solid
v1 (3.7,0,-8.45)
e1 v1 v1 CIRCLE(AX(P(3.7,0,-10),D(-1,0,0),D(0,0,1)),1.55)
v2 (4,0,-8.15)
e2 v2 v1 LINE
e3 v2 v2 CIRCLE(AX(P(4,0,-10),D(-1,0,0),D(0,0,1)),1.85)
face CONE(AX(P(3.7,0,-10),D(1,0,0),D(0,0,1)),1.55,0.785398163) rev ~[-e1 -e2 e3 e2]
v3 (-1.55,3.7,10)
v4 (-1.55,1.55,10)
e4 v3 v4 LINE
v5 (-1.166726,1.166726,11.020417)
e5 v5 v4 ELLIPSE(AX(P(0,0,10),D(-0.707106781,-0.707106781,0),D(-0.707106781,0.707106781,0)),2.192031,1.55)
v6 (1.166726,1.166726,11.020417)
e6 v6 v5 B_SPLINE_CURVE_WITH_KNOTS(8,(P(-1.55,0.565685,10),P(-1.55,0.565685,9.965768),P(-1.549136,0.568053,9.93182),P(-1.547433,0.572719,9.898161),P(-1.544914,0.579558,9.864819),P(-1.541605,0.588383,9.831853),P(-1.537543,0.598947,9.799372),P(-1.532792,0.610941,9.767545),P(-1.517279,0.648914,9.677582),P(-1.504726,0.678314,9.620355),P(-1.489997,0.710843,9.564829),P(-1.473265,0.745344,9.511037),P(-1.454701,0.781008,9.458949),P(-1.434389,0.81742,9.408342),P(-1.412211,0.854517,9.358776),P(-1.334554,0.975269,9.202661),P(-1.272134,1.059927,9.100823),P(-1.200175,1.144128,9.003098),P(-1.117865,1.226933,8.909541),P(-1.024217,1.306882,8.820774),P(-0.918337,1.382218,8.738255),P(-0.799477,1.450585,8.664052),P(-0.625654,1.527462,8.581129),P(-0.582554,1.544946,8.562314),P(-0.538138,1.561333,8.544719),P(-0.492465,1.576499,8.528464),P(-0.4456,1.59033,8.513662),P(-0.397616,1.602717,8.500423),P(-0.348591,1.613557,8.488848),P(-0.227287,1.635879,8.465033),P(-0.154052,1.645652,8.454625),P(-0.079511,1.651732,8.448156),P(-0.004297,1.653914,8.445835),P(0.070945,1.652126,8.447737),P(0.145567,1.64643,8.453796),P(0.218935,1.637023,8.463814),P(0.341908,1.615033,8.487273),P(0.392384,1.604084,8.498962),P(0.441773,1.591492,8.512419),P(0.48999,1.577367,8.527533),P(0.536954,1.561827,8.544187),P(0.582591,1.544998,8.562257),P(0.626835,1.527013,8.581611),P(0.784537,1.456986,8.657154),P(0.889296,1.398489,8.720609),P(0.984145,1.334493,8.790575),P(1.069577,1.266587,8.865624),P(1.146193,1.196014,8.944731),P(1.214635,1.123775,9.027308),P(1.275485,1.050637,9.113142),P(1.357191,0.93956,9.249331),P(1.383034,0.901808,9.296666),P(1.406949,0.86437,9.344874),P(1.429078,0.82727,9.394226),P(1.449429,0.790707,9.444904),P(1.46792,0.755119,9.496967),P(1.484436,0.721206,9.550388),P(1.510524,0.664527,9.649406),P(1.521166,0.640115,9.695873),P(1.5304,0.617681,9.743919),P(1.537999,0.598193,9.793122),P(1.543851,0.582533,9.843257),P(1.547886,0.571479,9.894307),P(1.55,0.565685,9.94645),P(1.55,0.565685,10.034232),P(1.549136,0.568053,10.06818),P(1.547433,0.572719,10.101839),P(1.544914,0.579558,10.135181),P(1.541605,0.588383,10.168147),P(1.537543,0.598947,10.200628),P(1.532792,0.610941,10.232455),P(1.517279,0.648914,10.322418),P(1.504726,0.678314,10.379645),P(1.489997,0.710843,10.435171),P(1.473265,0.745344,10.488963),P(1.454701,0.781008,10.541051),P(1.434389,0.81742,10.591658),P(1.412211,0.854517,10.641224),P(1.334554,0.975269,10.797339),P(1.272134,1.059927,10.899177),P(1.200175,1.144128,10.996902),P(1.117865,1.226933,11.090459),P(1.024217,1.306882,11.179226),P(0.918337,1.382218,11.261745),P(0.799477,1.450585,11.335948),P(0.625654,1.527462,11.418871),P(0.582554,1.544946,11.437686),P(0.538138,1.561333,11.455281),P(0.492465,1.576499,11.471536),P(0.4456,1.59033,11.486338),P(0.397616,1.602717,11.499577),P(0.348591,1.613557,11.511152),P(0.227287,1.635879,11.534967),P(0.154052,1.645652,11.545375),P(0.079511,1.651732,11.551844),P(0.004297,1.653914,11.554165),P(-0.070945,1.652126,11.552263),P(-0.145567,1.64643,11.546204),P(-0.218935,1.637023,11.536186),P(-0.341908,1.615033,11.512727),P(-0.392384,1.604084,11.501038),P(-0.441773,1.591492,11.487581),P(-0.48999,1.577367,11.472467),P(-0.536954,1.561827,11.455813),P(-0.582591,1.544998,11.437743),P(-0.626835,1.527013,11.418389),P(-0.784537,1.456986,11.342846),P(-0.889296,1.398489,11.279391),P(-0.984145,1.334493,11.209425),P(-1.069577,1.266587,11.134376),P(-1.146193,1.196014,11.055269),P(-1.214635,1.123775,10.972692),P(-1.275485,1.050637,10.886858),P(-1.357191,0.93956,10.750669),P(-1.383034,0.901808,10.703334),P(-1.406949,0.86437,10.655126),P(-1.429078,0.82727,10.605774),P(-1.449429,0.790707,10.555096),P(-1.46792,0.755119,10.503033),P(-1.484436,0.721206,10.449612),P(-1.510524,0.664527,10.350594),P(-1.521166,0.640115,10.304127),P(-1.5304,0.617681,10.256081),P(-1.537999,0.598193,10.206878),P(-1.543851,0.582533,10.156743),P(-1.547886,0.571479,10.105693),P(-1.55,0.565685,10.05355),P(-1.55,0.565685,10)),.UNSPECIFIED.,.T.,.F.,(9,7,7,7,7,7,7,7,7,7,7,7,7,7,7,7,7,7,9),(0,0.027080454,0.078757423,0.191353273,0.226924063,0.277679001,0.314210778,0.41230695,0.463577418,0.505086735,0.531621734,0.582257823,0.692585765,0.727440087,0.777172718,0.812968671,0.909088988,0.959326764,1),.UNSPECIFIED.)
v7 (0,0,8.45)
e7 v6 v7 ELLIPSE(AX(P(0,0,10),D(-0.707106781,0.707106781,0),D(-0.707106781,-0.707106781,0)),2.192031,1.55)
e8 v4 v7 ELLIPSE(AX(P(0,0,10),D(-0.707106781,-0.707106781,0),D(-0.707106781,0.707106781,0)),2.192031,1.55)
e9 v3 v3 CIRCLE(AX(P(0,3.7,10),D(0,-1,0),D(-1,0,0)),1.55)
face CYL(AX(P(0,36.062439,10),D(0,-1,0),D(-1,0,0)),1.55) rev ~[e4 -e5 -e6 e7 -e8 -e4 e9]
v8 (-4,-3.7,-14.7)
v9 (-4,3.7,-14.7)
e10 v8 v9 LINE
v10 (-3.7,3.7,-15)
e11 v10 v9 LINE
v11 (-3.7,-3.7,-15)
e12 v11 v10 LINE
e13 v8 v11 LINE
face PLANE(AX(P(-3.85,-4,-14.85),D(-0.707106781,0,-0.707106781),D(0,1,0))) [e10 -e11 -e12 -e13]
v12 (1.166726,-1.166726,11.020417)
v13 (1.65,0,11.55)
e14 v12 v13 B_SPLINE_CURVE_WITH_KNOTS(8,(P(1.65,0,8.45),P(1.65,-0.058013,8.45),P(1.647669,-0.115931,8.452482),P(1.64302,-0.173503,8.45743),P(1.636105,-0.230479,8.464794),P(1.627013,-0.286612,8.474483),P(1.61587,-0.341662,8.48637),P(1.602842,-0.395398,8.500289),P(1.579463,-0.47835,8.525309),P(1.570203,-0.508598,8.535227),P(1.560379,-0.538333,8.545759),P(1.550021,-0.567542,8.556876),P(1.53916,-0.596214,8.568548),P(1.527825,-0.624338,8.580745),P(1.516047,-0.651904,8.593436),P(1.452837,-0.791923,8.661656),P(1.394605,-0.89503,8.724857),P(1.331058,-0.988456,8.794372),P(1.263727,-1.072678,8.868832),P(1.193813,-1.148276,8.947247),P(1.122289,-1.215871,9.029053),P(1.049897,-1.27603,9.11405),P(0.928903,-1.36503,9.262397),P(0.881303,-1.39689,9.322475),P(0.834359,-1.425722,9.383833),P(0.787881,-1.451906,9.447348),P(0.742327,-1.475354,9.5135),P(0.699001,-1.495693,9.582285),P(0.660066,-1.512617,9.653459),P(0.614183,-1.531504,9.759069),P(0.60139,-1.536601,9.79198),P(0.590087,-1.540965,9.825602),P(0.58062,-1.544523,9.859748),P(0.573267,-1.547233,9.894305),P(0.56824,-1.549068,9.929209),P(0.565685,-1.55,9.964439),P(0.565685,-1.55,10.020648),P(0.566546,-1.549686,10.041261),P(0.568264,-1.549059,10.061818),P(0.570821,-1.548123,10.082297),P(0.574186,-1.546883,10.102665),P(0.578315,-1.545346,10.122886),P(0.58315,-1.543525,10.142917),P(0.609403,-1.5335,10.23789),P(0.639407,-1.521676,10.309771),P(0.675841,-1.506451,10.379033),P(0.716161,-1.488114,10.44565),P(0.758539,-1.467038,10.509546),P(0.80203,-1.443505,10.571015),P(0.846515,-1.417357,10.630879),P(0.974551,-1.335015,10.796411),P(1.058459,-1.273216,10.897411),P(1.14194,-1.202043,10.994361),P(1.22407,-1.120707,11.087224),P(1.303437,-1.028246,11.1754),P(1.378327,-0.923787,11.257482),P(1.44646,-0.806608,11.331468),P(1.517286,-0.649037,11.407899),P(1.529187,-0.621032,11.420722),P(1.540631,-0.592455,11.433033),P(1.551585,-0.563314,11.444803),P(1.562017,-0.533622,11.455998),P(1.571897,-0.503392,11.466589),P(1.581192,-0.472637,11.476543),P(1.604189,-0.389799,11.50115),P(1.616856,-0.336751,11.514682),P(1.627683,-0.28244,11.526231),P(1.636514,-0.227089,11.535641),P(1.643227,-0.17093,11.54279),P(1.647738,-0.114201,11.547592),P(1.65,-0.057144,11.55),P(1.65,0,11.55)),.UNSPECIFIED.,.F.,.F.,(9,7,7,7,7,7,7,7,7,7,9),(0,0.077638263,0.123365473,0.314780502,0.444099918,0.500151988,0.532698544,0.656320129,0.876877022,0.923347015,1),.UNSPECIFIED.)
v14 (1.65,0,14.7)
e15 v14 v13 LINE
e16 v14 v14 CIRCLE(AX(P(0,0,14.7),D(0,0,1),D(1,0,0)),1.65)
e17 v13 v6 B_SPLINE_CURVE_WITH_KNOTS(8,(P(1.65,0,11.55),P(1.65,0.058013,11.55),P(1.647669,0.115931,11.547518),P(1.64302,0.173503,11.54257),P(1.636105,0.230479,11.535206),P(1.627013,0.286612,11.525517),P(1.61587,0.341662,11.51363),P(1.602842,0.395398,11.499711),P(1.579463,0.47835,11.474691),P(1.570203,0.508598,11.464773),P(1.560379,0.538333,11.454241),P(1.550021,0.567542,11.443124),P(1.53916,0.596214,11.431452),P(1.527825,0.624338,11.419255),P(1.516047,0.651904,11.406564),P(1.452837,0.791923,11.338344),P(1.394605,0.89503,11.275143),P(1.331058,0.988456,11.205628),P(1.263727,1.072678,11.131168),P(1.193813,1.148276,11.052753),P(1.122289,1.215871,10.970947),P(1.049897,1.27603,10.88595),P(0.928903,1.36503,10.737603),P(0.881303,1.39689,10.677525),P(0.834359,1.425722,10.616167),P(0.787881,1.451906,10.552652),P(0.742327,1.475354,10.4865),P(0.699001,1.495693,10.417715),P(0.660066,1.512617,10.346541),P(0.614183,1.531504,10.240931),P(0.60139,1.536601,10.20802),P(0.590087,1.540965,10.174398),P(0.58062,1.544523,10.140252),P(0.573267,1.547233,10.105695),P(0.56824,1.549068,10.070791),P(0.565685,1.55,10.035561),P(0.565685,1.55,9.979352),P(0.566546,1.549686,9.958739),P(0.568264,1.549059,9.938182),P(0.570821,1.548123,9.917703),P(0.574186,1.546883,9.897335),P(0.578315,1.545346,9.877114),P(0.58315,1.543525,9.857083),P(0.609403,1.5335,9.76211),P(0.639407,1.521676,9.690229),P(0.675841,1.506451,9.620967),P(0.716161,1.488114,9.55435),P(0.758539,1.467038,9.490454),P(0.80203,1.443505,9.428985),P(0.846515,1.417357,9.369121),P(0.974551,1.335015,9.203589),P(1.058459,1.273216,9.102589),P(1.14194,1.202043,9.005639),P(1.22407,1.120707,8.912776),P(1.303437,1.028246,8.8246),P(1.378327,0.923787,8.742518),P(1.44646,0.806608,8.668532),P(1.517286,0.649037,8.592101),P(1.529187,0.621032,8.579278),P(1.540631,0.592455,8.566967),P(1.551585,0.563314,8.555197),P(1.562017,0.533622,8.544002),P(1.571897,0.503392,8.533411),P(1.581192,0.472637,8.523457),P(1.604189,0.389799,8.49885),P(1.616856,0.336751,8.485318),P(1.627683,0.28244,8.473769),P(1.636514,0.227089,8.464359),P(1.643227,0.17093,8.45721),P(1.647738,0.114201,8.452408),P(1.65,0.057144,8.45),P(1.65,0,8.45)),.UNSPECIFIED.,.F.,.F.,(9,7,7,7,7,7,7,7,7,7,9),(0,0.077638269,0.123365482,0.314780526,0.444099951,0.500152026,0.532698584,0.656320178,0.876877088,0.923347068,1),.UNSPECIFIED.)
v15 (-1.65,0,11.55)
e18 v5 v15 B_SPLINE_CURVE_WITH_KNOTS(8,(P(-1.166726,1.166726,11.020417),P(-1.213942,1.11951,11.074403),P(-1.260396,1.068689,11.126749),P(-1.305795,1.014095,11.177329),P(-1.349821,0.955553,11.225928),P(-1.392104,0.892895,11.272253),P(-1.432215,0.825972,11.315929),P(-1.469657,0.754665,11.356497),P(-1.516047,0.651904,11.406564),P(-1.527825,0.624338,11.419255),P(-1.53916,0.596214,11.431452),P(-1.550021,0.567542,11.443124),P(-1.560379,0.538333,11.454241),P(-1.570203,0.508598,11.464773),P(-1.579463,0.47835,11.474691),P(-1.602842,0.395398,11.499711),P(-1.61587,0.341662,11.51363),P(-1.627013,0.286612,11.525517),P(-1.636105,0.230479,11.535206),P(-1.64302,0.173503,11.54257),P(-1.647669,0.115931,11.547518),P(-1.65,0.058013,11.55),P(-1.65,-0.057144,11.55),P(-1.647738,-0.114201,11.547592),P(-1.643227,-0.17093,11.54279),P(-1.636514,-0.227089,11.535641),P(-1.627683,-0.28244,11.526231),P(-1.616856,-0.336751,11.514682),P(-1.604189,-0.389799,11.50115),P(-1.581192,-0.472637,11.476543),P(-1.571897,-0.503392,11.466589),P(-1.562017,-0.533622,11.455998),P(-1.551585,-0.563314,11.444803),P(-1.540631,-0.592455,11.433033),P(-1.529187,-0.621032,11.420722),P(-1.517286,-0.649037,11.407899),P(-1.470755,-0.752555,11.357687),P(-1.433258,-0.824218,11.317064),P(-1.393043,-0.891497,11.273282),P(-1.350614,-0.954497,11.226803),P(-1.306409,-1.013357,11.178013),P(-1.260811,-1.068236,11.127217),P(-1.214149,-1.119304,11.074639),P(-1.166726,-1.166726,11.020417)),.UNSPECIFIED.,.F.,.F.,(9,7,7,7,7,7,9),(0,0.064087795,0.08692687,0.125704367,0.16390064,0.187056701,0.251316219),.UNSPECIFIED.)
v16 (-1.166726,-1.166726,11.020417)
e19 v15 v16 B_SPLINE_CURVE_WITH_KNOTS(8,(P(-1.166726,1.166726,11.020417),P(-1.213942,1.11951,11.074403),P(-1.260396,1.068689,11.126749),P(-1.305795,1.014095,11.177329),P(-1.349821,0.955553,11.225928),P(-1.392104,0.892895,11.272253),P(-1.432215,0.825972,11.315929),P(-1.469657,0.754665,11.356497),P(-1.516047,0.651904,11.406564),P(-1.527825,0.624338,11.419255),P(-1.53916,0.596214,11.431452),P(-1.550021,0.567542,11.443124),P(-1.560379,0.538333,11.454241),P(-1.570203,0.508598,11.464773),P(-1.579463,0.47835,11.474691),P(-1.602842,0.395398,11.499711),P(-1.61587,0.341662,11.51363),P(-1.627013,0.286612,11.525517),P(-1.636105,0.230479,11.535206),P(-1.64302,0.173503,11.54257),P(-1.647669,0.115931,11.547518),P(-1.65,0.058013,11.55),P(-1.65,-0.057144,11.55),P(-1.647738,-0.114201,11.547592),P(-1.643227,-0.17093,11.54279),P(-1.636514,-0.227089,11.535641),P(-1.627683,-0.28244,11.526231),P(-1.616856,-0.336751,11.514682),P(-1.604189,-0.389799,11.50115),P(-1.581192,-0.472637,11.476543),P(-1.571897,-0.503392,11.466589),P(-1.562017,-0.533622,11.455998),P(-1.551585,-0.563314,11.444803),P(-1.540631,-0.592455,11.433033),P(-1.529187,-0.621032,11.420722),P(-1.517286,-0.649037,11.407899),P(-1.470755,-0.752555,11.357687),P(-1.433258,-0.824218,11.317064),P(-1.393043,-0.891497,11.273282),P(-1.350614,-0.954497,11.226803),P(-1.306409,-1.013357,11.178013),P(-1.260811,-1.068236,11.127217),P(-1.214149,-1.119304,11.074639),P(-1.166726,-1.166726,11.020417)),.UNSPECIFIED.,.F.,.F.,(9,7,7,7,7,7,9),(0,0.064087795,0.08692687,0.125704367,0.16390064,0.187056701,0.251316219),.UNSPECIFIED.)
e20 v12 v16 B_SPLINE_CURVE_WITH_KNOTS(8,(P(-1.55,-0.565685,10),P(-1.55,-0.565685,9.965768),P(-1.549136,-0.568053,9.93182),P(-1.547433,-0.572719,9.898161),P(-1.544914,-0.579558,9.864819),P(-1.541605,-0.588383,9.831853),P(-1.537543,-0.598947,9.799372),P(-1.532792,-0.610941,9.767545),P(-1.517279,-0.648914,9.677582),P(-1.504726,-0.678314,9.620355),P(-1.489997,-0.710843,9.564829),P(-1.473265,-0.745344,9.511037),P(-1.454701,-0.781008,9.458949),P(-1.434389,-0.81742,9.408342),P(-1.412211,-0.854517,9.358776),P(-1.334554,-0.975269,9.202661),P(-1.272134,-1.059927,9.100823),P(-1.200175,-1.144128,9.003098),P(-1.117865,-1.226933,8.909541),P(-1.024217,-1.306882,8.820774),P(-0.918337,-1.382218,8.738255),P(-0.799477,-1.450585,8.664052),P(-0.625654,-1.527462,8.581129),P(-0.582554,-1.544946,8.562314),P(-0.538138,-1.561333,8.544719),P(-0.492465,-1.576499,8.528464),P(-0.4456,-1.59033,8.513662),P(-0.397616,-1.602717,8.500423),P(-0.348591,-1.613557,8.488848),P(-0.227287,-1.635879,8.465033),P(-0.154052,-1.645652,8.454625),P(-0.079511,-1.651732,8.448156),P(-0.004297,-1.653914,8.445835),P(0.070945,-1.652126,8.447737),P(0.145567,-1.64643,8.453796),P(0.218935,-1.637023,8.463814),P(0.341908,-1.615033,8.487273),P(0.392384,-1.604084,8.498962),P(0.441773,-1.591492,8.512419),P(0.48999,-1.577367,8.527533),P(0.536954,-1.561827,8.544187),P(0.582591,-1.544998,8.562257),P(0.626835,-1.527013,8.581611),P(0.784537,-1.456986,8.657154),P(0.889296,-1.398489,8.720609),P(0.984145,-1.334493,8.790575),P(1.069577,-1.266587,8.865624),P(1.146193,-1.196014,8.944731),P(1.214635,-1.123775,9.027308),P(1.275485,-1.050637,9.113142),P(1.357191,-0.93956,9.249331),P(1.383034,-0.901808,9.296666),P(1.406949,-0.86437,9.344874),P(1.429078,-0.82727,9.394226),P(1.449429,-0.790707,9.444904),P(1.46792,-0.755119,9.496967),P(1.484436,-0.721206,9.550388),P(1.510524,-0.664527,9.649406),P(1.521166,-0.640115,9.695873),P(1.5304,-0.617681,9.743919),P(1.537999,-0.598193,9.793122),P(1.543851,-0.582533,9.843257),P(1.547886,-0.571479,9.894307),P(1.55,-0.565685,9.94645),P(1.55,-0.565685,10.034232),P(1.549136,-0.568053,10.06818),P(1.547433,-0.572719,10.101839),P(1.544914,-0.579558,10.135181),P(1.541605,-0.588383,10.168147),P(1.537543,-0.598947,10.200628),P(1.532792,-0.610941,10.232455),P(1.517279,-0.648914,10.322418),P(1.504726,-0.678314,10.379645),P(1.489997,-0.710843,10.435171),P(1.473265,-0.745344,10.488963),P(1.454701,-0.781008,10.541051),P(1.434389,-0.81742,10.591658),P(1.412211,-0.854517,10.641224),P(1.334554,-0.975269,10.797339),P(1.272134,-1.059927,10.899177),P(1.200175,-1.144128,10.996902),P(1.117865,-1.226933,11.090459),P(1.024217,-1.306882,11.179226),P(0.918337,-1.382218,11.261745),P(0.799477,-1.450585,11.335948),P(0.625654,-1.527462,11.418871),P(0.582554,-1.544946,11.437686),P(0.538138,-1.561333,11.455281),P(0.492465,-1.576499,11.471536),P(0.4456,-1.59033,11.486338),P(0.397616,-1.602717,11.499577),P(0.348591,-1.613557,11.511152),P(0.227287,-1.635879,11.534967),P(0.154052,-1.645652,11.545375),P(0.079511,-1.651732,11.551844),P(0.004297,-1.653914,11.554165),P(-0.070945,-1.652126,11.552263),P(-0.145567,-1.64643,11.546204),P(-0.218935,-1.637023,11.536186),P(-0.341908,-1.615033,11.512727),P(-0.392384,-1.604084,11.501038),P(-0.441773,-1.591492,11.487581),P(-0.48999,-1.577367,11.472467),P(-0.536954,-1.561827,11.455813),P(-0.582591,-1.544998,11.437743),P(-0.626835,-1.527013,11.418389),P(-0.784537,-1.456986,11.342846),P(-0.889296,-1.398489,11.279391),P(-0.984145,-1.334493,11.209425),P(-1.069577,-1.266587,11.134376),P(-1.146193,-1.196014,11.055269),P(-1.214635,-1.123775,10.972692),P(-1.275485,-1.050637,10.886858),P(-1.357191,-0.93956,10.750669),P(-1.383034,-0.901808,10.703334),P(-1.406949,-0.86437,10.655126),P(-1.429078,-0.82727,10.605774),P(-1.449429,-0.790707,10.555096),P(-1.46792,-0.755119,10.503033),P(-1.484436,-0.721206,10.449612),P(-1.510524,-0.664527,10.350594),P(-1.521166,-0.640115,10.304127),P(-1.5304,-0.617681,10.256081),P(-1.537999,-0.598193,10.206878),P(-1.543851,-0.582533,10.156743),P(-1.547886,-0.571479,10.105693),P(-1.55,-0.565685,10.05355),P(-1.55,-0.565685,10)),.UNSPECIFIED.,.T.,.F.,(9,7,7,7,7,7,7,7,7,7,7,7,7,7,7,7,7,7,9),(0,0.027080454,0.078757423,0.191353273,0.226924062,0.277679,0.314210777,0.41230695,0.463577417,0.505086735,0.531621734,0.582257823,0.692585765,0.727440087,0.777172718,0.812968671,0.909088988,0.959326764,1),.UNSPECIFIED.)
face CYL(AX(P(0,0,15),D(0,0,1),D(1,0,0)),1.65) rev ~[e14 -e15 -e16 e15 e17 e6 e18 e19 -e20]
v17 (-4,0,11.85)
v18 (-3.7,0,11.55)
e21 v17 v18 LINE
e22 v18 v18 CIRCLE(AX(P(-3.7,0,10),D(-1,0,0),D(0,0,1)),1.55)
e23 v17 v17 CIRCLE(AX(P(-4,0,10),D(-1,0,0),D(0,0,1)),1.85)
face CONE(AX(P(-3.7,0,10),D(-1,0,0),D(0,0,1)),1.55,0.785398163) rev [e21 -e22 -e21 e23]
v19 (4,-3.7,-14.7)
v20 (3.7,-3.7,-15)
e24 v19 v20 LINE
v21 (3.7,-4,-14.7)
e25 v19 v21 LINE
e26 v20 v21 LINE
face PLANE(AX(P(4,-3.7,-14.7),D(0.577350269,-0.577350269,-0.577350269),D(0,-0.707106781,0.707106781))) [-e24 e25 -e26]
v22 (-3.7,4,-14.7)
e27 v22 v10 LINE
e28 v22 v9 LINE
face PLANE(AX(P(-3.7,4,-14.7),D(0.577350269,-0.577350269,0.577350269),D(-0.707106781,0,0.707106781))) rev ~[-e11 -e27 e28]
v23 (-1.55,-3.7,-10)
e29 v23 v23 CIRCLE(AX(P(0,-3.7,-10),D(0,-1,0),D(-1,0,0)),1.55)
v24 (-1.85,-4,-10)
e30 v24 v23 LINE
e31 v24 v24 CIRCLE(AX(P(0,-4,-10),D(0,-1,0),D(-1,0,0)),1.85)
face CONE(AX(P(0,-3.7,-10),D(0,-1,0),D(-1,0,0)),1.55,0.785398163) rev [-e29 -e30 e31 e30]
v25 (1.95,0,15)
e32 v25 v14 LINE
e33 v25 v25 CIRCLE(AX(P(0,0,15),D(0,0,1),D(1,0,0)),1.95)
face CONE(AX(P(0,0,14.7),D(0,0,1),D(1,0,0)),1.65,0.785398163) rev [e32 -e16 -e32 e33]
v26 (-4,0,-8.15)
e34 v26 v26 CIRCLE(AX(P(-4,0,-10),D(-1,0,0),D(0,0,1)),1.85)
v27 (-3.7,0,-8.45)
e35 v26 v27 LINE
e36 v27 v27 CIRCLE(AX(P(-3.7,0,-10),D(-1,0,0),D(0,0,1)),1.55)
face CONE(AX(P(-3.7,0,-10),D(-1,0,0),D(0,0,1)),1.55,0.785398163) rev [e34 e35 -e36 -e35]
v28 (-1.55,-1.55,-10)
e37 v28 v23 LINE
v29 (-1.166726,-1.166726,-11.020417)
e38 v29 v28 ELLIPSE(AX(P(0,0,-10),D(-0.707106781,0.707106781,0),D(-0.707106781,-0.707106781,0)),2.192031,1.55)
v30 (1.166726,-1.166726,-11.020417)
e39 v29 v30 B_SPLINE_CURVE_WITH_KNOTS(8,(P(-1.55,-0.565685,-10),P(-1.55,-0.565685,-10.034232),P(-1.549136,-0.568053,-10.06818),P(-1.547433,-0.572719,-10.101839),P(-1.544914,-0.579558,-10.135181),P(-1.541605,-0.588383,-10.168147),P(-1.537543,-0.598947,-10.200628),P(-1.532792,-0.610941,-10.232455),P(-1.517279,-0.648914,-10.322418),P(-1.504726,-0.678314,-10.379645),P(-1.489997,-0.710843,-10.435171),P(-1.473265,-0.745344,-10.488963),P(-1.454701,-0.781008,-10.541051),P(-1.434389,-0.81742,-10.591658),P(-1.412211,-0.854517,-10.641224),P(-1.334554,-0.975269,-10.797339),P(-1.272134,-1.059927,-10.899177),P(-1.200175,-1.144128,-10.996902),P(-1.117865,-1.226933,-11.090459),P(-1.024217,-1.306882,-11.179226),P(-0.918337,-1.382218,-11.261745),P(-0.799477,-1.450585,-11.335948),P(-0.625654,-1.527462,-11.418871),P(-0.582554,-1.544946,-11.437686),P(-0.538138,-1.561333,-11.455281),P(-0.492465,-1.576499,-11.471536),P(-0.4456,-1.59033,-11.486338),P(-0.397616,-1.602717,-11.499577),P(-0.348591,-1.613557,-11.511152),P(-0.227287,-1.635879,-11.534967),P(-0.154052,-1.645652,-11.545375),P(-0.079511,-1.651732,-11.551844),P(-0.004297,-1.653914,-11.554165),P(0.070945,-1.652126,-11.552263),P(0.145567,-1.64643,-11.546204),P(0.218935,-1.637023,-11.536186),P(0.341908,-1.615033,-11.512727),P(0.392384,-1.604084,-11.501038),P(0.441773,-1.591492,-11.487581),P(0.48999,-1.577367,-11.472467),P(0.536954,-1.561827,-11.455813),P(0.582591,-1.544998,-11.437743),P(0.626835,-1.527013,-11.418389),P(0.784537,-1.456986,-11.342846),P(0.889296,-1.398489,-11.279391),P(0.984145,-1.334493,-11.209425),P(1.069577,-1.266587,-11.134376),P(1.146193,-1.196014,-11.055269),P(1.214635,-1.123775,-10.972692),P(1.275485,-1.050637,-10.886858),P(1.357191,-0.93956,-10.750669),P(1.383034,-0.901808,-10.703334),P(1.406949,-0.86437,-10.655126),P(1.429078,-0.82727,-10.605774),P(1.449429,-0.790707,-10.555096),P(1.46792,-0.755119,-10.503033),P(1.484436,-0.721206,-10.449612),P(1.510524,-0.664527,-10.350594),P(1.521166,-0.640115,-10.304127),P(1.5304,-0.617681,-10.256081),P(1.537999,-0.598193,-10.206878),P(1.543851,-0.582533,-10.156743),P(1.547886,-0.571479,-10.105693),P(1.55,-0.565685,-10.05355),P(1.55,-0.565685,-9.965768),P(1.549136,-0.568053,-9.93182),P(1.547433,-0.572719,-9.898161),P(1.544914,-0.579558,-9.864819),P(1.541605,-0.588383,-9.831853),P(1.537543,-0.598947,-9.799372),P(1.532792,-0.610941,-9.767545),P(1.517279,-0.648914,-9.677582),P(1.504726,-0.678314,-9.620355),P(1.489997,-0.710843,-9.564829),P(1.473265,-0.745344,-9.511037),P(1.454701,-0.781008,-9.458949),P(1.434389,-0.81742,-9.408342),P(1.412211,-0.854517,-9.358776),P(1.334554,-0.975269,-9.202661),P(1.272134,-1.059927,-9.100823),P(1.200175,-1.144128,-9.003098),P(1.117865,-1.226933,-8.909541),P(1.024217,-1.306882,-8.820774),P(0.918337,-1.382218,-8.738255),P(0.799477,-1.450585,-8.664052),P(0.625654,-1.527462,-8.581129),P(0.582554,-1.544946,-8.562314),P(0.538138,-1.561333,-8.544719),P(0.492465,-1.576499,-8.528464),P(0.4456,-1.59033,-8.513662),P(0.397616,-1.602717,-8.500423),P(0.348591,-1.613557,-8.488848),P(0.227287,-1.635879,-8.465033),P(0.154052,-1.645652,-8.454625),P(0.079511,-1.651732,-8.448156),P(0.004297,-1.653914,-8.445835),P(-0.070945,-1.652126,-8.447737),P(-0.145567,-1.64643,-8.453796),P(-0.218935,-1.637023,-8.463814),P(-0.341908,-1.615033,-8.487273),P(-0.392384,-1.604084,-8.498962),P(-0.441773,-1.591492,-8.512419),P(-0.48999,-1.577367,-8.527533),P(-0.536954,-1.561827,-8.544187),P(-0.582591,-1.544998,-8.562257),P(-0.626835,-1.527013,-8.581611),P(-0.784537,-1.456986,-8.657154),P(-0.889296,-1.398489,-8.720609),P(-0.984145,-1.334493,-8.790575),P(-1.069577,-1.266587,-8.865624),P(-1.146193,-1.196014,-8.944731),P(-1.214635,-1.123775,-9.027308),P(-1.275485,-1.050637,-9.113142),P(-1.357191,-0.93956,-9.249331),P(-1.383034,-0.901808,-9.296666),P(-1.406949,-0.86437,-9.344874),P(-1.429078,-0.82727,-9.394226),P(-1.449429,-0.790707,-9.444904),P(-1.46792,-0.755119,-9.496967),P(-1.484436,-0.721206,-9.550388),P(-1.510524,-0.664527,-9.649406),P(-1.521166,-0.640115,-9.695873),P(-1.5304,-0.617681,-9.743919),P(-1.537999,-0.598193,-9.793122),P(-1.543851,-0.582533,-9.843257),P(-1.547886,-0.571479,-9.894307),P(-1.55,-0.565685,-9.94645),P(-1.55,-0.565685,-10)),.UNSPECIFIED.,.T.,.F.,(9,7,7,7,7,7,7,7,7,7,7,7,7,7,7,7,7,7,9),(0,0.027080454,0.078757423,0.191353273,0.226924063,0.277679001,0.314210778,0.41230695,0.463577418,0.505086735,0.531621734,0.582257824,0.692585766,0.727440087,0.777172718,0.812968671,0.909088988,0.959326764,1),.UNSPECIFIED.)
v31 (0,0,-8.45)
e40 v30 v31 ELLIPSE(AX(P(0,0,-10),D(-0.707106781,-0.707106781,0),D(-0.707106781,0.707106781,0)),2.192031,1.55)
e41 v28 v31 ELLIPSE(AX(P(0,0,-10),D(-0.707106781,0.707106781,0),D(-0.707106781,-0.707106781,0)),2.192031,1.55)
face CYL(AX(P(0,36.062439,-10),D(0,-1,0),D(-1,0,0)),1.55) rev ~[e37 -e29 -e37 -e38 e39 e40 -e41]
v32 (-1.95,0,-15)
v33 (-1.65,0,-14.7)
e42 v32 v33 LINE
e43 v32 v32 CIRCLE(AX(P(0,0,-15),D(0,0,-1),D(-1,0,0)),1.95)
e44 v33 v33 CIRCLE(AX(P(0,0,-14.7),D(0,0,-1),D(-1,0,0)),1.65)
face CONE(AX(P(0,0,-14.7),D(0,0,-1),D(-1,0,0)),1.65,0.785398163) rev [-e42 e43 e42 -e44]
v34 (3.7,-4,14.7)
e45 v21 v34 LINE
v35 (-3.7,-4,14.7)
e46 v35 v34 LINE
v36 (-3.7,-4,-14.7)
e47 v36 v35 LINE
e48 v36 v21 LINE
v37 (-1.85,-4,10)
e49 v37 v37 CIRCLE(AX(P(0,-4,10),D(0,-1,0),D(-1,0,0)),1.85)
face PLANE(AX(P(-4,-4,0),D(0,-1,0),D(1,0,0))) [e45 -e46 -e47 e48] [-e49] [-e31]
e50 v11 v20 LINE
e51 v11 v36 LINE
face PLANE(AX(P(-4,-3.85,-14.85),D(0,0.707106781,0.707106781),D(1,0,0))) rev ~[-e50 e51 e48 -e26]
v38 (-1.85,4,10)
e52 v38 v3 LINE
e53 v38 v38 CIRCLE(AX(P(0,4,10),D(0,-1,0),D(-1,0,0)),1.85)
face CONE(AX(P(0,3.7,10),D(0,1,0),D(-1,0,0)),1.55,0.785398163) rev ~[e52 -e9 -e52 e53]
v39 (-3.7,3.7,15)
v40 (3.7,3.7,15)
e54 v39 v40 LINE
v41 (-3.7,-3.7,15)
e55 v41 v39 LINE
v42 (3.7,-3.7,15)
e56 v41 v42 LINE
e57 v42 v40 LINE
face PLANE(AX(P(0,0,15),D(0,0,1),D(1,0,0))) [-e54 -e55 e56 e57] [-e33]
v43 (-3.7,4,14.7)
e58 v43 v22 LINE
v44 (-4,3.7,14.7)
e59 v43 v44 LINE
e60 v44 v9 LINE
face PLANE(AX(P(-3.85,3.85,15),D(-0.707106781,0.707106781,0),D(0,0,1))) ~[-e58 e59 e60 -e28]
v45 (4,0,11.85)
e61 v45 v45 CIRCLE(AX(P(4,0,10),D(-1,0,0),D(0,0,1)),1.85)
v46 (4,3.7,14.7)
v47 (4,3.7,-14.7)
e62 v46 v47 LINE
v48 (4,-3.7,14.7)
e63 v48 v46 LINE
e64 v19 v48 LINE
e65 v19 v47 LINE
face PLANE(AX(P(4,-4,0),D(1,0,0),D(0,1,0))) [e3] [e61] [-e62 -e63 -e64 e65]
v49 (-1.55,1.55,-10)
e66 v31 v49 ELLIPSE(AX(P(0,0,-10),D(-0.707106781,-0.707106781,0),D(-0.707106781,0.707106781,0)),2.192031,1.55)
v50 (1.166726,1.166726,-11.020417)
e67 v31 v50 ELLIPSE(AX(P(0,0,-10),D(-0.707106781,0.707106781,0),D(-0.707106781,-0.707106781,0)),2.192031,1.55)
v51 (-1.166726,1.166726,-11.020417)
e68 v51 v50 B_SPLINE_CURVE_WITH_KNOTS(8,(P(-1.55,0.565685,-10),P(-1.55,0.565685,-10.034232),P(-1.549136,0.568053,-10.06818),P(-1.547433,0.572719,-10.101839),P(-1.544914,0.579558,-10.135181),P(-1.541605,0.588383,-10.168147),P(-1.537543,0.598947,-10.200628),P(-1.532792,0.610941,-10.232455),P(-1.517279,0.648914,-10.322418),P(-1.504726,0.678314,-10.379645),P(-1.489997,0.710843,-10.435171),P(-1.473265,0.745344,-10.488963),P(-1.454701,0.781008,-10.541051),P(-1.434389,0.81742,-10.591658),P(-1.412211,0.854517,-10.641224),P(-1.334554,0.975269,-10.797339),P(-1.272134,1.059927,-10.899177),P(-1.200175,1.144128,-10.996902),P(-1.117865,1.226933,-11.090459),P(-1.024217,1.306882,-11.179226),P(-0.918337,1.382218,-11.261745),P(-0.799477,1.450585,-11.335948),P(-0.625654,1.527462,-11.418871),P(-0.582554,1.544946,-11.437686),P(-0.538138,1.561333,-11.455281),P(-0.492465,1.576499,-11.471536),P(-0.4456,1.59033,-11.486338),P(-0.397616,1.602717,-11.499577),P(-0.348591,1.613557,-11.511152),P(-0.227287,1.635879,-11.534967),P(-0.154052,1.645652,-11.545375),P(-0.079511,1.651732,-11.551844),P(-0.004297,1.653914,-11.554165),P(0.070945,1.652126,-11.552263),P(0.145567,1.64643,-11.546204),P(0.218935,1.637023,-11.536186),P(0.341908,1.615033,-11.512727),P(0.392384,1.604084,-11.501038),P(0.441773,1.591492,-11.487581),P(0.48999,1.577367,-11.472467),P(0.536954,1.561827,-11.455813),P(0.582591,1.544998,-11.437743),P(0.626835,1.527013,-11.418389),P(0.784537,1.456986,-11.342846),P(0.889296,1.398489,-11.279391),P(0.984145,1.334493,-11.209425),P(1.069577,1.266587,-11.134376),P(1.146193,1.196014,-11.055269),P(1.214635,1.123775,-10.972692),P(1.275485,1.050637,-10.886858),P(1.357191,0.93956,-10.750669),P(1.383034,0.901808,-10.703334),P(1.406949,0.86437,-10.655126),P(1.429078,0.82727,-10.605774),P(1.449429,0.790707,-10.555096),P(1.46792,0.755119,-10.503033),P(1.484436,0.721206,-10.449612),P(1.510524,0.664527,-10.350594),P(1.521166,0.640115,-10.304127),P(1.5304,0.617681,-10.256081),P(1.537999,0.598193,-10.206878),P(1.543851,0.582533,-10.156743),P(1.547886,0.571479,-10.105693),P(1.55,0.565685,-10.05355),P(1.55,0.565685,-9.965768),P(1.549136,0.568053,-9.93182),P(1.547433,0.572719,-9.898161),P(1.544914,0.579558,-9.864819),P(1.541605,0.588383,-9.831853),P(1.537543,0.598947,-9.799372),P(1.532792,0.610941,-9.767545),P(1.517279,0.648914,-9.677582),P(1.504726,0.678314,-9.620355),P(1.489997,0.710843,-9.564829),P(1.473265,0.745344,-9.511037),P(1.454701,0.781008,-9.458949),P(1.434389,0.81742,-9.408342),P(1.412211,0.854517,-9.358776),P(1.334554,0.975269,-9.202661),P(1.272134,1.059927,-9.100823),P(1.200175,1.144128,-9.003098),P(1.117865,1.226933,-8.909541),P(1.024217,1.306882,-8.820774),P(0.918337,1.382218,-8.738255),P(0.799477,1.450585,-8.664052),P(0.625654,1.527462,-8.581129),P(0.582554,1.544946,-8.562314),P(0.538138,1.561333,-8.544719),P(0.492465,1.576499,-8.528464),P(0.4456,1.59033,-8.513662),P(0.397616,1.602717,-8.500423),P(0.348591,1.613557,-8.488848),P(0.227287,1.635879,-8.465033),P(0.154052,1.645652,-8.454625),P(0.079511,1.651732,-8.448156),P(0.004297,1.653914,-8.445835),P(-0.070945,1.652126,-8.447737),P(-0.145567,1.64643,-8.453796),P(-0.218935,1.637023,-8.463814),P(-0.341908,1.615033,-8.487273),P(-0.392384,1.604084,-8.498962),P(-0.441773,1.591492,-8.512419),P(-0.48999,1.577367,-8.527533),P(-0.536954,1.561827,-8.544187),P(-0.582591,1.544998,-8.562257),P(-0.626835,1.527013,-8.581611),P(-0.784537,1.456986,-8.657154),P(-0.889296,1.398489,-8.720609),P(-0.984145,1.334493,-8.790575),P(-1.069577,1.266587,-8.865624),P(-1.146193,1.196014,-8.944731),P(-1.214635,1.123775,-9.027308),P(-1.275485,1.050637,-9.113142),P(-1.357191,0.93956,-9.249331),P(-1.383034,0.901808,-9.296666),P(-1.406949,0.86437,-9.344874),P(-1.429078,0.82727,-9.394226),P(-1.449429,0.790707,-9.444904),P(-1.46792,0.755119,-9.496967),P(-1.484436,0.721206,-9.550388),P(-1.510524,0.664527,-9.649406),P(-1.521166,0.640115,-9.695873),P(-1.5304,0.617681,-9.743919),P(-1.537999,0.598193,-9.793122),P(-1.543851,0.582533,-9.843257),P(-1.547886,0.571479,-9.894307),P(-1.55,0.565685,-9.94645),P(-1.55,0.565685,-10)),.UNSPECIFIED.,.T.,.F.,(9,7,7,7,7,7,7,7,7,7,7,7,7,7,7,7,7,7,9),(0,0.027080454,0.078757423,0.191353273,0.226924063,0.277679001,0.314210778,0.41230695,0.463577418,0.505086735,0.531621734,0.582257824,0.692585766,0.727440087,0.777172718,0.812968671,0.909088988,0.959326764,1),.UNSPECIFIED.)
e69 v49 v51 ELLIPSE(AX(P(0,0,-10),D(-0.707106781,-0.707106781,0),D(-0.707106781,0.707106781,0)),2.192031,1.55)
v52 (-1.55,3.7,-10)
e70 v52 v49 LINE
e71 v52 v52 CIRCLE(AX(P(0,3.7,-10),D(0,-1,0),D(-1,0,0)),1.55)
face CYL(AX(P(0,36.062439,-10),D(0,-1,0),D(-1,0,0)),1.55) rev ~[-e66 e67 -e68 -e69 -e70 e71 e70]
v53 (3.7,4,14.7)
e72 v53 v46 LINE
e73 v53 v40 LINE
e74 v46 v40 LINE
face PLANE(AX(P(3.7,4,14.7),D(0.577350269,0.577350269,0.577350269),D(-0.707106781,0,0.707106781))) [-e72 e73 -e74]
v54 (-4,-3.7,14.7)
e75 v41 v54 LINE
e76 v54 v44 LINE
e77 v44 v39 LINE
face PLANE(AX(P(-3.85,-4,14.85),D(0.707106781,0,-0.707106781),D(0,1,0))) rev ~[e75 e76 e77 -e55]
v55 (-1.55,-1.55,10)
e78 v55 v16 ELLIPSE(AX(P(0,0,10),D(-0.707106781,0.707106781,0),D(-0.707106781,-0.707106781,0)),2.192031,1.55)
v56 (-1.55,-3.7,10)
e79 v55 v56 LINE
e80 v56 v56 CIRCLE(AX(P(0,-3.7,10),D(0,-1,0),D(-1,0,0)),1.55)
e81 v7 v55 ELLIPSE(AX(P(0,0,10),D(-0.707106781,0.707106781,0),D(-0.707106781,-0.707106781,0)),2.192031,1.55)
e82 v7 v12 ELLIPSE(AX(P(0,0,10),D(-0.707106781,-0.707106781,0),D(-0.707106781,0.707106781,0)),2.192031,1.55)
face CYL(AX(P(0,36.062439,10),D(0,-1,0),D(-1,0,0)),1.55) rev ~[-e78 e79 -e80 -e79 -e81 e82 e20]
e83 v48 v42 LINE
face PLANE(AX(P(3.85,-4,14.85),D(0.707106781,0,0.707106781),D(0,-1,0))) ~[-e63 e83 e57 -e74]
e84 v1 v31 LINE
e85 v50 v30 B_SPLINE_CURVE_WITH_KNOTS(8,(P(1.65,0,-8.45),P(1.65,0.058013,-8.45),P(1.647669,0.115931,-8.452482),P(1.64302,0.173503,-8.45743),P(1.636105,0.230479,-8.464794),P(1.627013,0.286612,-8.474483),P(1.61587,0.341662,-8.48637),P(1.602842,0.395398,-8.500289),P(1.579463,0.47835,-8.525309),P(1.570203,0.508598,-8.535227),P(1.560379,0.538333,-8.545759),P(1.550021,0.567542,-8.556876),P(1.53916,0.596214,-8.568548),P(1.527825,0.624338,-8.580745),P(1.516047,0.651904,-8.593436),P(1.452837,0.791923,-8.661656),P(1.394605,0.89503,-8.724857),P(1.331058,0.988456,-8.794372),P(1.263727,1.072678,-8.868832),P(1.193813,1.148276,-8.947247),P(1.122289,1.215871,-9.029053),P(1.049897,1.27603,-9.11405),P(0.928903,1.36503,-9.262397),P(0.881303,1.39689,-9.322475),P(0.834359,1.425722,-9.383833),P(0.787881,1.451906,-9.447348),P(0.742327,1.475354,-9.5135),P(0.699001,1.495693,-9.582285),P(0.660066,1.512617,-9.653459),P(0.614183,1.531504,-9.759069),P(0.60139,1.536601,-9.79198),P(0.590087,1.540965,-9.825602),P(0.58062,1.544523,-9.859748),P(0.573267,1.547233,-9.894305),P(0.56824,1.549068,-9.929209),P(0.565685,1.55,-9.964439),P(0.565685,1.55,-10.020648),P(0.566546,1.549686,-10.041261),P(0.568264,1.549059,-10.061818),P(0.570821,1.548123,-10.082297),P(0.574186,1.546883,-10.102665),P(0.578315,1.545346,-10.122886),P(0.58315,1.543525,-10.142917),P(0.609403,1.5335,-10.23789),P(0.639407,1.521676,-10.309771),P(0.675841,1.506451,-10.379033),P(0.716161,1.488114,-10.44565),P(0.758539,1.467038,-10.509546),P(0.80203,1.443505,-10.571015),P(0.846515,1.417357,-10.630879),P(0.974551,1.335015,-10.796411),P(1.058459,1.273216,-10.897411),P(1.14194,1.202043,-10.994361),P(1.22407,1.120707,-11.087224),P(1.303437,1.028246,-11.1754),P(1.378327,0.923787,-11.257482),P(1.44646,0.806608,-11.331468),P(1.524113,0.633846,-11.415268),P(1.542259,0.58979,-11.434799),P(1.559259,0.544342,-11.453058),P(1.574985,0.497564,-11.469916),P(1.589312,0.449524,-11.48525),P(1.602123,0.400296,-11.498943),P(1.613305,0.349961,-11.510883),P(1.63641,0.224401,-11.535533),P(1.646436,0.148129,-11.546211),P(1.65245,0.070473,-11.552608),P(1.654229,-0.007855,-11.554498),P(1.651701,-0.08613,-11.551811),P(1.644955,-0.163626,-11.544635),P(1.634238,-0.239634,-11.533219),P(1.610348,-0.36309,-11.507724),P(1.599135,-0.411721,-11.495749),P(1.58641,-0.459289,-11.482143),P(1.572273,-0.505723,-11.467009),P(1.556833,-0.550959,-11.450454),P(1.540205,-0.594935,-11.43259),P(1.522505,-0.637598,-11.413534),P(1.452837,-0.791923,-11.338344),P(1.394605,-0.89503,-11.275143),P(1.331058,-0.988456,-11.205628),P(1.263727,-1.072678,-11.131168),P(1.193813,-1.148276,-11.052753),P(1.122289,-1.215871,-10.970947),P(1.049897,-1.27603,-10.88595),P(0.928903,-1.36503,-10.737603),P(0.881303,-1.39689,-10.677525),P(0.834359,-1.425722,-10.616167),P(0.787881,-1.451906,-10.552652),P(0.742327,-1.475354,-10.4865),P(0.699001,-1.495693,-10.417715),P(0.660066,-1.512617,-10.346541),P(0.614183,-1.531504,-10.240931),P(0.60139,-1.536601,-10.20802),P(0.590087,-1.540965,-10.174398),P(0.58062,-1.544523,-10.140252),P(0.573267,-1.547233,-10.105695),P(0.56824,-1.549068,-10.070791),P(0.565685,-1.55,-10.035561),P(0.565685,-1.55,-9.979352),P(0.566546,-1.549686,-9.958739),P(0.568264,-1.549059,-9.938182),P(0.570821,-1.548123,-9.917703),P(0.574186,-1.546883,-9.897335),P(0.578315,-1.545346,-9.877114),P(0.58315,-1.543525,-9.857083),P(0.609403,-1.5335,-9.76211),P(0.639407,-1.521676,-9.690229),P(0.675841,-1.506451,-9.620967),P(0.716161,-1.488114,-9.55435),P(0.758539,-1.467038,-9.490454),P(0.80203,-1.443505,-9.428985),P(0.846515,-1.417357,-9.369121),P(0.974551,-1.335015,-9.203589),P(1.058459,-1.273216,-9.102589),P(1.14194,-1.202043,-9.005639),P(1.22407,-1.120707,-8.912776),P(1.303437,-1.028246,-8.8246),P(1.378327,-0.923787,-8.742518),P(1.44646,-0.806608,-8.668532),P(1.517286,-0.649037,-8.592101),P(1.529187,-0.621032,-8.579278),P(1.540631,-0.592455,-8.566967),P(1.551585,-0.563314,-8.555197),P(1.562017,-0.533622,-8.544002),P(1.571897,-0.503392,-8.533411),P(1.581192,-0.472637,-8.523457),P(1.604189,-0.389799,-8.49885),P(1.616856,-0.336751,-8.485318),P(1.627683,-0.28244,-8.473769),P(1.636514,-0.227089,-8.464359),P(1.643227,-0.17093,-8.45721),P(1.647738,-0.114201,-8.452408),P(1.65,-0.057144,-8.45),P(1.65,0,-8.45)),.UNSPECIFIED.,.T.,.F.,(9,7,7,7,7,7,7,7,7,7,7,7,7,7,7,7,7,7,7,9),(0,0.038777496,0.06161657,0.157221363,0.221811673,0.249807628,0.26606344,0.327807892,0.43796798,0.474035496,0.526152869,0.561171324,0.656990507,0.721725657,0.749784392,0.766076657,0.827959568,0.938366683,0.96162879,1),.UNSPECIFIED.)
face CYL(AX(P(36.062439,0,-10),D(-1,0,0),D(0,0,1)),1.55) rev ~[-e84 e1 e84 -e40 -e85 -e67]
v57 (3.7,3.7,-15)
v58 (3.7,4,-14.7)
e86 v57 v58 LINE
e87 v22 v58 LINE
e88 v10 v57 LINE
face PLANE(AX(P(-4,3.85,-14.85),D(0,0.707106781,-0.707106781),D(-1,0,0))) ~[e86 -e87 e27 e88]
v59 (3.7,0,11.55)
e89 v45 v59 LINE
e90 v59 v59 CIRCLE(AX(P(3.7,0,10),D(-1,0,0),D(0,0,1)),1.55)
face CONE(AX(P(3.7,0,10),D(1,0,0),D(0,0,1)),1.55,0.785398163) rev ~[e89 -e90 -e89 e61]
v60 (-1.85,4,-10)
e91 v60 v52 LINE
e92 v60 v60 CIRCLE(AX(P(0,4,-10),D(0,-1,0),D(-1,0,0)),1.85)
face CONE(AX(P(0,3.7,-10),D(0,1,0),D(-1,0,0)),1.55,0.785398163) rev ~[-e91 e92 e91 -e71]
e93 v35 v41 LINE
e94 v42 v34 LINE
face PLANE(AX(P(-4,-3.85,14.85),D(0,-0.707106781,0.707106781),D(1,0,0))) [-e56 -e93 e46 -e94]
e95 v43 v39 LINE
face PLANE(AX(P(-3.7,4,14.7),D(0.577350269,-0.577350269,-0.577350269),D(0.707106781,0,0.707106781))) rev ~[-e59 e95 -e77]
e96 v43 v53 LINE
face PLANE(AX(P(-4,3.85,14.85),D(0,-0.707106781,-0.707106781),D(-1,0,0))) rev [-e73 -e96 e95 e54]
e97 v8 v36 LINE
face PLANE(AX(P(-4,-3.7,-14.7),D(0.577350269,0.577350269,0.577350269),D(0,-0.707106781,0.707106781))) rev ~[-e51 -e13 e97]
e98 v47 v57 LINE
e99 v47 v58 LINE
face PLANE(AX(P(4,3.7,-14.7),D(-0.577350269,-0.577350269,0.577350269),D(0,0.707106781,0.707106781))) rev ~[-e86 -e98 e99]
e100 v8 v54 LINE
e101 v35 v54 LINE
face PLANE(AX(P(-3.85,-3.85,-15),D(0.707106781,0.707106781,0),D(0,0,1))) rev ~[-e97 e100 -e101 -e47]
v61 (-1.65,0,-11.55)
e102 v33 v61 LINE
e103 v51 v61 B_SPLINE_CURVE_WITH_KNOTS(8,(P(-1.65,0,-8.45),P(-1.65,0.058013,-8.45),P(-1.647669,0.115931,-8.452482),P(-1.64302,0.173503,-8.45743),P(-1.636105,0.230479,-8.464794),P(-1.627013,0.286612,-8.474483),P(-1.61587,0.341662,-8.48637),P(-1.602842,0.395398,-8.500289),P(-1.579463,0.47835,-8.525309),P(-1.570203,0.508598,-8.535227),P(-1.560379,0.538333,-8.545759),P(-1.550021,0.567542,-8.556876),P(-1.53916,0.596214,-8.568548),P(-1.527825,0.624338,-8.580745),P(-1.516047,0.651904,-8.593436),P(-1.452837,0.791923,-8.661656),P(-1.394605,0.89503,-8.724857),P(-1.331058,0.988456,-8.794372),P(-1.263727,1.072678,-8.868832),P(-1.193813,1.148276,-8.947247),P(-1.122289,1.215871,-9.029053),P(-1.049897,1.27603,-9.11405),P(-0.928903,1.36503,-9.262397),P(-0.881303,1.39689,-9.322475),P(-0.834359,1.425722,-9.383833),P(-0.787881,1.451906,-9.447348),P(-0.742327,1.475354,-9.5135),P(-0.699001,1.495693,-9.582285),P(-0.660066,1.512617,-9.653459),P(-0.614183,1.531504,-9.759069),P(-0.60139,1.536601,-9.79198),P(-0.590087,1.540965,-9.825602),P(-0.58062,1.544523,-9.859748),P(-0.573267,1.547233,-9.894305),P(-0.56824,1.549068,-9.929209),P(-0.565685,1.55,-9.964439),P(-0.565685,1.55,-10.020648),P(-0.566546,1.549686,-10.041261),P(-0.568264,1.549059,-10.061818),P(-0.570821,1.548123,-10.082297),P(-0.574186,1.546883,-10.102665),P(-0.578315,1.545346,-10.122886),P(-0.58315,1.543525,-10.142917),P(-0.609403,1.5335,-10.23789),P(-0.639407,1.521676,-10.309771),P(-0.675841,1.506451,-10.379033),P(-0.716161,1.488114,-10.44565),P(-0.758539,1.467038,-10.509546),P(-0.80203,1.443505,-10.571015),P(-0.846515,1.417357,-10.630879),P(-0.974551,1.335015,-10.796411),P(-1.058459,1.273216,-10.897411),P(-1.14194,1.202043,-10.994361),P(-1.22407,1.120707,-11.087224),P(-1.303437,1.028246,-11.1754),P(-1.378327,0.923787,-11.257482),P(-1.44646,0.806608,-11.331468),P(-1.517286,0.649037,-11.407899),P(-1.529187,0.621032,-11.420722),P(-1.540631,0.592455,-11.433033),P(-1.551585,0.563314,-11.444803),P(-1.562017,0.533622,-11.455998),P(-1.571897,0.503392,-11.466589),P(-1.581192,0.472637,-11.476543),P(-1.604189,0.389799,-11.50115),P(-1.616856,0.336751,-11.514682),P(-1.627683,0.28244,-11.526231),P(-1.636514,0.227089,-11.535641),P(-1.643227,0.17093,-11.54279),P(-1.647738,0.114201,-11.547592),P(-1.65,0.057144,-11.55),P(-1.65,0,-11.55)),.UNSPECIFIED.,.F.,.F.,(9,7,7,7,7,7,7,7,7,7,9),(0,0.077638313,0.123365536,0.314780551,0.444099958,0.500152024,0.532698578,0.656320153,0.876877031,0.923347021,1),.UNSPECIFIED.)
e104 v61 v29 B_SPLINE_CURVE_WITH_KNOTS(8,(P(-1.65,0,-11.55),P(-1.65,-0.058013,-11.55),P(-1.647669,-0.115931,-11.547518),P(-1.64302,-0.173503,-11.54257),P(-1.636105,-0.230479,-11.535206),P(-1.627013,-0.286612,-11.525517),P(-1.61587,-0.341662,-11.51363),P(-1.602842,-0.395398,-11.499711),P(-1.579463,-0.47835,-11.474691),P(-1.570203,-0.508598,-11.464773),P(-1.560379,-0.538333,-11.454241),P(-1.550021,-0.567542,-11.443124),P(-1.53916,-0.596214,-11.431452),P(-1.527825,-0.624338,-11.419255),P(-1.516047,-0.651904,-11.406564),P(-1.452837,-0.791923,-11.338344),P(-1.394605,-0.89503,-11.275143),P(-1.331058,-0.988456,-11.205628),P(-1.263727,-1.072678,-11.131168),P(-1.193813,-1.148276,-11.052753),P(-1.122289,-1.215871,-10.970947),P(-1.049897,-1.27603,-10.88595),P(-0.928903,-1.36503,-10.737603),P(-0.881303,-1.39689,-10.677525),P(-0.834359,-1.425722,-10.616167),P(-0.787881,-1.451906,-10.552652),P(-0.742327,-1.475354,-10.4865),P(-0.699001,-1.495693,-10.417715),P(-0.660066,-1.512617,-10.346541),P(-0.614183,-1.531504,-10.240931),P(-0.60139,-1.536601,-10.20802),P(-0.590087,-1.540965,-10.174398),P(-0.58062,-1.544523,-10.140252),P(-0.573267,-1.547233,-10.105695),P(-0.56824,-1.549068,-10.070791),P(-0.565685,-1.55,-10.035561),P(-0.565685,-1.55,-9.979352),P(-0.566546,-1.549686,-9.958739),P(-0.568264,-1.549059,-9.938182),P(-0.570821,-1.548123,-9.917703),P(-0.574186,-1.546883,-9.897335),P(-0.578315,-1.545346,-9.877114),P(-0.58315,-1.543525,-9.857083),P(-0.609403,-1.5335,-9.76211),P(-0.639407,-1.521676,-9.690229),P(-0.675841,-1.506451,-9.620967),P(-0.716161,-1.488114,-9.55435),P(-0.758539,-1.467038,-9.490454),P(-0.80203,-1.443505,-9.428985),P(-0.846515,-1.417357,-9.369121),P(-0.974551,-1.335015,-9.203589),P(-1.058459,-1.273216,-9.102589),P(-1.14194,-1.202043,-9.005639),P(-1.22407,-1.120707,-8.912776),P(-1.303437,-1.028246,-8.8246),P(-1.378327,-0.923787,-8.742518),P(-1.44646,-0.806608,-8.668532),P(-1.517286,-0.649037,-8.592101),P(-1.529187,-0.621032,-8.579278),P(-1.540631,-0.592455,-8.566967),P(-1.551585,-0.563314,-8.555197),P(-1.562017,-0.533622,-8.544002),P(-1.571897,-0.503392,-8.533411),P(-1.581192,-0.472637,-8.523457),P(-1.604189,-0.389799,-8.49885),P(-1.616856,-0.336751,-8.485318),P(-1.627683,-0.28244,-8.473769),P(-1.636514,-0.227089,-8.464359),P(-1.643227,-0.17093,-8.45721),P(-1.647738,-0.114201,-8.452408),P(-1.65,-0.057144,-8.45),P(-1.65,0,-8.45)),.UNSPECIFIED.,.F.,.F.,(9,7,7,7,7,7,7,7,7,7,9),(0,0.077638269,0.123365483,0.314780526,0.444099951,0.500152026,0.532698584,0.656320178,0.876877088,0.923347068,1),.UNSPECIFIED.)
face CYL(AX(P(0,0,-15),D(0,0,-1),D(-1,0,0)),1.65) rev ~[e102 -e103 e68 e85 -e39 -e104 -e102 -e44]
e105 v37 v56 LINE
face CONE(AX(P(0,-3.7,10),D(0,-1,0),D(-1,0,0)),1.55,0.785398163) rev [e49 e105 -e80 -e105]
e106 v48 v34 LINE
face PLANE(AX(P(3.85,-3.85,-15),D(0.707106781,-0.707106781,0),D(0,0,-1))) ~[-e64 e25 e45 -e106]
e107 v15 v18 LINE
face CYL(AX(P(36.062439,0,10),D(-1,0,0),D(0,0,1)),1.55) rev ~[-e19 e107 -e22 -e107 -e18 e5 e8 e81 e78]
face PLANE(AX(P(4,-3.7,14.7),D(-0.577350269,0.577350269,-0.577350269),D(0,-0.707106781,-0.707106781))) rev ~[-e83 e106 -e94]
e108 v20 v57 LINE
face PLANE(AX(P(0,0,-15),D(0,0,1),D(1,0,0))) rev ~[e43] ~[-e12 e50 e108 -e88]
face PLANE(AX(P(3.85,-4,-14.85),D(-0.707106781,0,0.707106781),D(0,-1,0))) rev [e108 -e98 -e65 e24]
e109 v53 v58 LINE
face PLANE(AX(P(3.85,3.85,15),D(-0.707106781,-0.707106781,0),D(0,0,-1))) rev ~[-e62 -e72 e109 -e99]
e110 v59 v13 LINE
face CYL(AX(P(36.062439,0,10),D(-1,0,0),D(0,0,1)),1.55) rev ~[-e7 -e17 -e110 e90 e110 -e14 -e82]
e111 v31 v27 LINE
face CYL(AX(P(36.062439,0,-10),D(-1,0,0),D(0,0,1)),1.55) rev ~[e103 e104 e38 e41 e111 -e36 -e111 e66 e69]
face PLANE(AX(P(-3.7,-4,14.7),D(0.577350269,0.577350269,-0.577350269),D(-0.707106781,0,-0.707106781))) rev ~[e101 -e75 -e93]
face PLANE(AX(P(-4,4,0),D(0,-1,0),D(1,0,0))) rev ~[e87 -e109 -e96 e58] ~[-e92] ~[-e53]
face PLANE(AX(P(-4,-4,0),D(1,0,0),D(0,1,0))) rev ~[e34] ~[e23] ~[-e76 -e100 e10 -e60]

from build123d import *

# Parameters (mm, degrees)
SKETCH_1_W              = 8
SKETCH_1_H              = 8
EXTRUDE_1_DEPTH         = 15
HOLE_WIZARD_3_1_3_1_1_D = 3.1
HOLE_WIZARD_3_1_3_1_2_D = 3.1
HOLE_WIZARD_M4_1_REACH  = 32.529
HOLE_WIZARD_M4_1_BORE_R = 1.65
HOLE_WIZARD_M4_2_REACH  = 32.529
HOLE_WIZARD_M4_2_BORE_R = 1.65
CHAMFER_1_SIZE          = 0.3


with BuildPart() as part:
    # 草图1 → 凸台-拉伸1 (new, symmetric)
    with BuildSketch(Plane.XY):
        Rectangle(SKETCH_1_W, SKETCH_1_H)
    extrude(amount=EXTRUDE_1_DEPTH, both=True)

    # Ø3.1 (3.1) 直径孔1 (through all)
    with Locations(Plane(origin=(4, 0, 0), x_dir=(0, 0, -1), z_dir=(1, 0, 0))):
        with Locations((-10, 0), (10, 0)):
            Hole(HOLE_WIZARD_3_1_3_1_1_D / 2)

    # Ø3.1 (3.1) 直径孔2 (through all)
    with Locations(Plane(origin=(0, 4, 0), x_dir=(1, 0, 0), z_dir=(0, 1, 0))):
        with Locations((0, -10), (0, 10)):
            Hole(HOLE_WIZARD_3_1_3_1_2_D / 2)

    # M4 螺纹孔1 bore → M4 螺纹孔1 (cut, up to next)
    with BuildSketch(Plane.XY.offset(15), mode=Mode.PRIVATE) as hole_wizard_m4_1_sk1:
        Circle(HOLE_WIZARD_M4_1_BORE_R)
    hole_wizard_m4_1_tool1 = extrude(hole_wizard_m4_1_sk1.sketch, amount=-HOLE_WIZARD_M4_1_REACH, mode=Mode.PRIVATE) & part.part
    add(hole_wizard_m4_1_tool1.solids().sort_by_distance((0, 0, 15))[0], mode=Mode.SUBTRACT)

    # M4 螺纹孔2 bore → M4 螺纹孔2 (cut, up to next)
    with BuildSketch(Plane(origin=(0, 0, -15), x_dir=(-1, 0, 0), z_dir=(0, 0, -1)), mode=Mode.PRIVATE) as hole_wizard_m4_2_sk1:
        Circle(HOLE_WIZARD_M4_2_BORE_R)
    hole_wizard_m4_2_tool1 = extrude(hole_wizard_m4_2_sk1.sketch, amount=-HOLE_WIZARD_M4_2_REACH, mode=Mode.PRIVATE) & part.part
    add(hole_wizard_m4_2_tool1.solids().sort_by_distance((0, 0, -15))[0], mode=Mode.SUBTRACT)

    # 倒角1
    chamfer_1_edges = [part.edges().sort_by_distance(p)[0] for p in [
        (-4, 0, 15),
        (4, 0, -11.55),
        (-4, 0, -11.55),
        (0, -4, 15),
        (4, 0, 8.45),
        (-4, 0, 8.45),
        (1.55, -4, -10),
        (1.55, 4, -10),
        (1.55, -4, 10),
        (1.55, 4, 10),
        (4, 0, 15),
        (0, -4, -15),
        (-4, 0, -15),
        (-1.65, 0, 15),
        (0, 4, -15),
        (4, 0, -15),
        (1.65, 0, -15),
        (4, -4, 0),
        (-4, -4, 0),
        (-4, 4, 0),
        (4, 4, 0),
        (0, 4, 15),
    ]]
    chamfer(chamfer_1_edges, length=CHAMFER_1_SIZE)


solid = part.part
